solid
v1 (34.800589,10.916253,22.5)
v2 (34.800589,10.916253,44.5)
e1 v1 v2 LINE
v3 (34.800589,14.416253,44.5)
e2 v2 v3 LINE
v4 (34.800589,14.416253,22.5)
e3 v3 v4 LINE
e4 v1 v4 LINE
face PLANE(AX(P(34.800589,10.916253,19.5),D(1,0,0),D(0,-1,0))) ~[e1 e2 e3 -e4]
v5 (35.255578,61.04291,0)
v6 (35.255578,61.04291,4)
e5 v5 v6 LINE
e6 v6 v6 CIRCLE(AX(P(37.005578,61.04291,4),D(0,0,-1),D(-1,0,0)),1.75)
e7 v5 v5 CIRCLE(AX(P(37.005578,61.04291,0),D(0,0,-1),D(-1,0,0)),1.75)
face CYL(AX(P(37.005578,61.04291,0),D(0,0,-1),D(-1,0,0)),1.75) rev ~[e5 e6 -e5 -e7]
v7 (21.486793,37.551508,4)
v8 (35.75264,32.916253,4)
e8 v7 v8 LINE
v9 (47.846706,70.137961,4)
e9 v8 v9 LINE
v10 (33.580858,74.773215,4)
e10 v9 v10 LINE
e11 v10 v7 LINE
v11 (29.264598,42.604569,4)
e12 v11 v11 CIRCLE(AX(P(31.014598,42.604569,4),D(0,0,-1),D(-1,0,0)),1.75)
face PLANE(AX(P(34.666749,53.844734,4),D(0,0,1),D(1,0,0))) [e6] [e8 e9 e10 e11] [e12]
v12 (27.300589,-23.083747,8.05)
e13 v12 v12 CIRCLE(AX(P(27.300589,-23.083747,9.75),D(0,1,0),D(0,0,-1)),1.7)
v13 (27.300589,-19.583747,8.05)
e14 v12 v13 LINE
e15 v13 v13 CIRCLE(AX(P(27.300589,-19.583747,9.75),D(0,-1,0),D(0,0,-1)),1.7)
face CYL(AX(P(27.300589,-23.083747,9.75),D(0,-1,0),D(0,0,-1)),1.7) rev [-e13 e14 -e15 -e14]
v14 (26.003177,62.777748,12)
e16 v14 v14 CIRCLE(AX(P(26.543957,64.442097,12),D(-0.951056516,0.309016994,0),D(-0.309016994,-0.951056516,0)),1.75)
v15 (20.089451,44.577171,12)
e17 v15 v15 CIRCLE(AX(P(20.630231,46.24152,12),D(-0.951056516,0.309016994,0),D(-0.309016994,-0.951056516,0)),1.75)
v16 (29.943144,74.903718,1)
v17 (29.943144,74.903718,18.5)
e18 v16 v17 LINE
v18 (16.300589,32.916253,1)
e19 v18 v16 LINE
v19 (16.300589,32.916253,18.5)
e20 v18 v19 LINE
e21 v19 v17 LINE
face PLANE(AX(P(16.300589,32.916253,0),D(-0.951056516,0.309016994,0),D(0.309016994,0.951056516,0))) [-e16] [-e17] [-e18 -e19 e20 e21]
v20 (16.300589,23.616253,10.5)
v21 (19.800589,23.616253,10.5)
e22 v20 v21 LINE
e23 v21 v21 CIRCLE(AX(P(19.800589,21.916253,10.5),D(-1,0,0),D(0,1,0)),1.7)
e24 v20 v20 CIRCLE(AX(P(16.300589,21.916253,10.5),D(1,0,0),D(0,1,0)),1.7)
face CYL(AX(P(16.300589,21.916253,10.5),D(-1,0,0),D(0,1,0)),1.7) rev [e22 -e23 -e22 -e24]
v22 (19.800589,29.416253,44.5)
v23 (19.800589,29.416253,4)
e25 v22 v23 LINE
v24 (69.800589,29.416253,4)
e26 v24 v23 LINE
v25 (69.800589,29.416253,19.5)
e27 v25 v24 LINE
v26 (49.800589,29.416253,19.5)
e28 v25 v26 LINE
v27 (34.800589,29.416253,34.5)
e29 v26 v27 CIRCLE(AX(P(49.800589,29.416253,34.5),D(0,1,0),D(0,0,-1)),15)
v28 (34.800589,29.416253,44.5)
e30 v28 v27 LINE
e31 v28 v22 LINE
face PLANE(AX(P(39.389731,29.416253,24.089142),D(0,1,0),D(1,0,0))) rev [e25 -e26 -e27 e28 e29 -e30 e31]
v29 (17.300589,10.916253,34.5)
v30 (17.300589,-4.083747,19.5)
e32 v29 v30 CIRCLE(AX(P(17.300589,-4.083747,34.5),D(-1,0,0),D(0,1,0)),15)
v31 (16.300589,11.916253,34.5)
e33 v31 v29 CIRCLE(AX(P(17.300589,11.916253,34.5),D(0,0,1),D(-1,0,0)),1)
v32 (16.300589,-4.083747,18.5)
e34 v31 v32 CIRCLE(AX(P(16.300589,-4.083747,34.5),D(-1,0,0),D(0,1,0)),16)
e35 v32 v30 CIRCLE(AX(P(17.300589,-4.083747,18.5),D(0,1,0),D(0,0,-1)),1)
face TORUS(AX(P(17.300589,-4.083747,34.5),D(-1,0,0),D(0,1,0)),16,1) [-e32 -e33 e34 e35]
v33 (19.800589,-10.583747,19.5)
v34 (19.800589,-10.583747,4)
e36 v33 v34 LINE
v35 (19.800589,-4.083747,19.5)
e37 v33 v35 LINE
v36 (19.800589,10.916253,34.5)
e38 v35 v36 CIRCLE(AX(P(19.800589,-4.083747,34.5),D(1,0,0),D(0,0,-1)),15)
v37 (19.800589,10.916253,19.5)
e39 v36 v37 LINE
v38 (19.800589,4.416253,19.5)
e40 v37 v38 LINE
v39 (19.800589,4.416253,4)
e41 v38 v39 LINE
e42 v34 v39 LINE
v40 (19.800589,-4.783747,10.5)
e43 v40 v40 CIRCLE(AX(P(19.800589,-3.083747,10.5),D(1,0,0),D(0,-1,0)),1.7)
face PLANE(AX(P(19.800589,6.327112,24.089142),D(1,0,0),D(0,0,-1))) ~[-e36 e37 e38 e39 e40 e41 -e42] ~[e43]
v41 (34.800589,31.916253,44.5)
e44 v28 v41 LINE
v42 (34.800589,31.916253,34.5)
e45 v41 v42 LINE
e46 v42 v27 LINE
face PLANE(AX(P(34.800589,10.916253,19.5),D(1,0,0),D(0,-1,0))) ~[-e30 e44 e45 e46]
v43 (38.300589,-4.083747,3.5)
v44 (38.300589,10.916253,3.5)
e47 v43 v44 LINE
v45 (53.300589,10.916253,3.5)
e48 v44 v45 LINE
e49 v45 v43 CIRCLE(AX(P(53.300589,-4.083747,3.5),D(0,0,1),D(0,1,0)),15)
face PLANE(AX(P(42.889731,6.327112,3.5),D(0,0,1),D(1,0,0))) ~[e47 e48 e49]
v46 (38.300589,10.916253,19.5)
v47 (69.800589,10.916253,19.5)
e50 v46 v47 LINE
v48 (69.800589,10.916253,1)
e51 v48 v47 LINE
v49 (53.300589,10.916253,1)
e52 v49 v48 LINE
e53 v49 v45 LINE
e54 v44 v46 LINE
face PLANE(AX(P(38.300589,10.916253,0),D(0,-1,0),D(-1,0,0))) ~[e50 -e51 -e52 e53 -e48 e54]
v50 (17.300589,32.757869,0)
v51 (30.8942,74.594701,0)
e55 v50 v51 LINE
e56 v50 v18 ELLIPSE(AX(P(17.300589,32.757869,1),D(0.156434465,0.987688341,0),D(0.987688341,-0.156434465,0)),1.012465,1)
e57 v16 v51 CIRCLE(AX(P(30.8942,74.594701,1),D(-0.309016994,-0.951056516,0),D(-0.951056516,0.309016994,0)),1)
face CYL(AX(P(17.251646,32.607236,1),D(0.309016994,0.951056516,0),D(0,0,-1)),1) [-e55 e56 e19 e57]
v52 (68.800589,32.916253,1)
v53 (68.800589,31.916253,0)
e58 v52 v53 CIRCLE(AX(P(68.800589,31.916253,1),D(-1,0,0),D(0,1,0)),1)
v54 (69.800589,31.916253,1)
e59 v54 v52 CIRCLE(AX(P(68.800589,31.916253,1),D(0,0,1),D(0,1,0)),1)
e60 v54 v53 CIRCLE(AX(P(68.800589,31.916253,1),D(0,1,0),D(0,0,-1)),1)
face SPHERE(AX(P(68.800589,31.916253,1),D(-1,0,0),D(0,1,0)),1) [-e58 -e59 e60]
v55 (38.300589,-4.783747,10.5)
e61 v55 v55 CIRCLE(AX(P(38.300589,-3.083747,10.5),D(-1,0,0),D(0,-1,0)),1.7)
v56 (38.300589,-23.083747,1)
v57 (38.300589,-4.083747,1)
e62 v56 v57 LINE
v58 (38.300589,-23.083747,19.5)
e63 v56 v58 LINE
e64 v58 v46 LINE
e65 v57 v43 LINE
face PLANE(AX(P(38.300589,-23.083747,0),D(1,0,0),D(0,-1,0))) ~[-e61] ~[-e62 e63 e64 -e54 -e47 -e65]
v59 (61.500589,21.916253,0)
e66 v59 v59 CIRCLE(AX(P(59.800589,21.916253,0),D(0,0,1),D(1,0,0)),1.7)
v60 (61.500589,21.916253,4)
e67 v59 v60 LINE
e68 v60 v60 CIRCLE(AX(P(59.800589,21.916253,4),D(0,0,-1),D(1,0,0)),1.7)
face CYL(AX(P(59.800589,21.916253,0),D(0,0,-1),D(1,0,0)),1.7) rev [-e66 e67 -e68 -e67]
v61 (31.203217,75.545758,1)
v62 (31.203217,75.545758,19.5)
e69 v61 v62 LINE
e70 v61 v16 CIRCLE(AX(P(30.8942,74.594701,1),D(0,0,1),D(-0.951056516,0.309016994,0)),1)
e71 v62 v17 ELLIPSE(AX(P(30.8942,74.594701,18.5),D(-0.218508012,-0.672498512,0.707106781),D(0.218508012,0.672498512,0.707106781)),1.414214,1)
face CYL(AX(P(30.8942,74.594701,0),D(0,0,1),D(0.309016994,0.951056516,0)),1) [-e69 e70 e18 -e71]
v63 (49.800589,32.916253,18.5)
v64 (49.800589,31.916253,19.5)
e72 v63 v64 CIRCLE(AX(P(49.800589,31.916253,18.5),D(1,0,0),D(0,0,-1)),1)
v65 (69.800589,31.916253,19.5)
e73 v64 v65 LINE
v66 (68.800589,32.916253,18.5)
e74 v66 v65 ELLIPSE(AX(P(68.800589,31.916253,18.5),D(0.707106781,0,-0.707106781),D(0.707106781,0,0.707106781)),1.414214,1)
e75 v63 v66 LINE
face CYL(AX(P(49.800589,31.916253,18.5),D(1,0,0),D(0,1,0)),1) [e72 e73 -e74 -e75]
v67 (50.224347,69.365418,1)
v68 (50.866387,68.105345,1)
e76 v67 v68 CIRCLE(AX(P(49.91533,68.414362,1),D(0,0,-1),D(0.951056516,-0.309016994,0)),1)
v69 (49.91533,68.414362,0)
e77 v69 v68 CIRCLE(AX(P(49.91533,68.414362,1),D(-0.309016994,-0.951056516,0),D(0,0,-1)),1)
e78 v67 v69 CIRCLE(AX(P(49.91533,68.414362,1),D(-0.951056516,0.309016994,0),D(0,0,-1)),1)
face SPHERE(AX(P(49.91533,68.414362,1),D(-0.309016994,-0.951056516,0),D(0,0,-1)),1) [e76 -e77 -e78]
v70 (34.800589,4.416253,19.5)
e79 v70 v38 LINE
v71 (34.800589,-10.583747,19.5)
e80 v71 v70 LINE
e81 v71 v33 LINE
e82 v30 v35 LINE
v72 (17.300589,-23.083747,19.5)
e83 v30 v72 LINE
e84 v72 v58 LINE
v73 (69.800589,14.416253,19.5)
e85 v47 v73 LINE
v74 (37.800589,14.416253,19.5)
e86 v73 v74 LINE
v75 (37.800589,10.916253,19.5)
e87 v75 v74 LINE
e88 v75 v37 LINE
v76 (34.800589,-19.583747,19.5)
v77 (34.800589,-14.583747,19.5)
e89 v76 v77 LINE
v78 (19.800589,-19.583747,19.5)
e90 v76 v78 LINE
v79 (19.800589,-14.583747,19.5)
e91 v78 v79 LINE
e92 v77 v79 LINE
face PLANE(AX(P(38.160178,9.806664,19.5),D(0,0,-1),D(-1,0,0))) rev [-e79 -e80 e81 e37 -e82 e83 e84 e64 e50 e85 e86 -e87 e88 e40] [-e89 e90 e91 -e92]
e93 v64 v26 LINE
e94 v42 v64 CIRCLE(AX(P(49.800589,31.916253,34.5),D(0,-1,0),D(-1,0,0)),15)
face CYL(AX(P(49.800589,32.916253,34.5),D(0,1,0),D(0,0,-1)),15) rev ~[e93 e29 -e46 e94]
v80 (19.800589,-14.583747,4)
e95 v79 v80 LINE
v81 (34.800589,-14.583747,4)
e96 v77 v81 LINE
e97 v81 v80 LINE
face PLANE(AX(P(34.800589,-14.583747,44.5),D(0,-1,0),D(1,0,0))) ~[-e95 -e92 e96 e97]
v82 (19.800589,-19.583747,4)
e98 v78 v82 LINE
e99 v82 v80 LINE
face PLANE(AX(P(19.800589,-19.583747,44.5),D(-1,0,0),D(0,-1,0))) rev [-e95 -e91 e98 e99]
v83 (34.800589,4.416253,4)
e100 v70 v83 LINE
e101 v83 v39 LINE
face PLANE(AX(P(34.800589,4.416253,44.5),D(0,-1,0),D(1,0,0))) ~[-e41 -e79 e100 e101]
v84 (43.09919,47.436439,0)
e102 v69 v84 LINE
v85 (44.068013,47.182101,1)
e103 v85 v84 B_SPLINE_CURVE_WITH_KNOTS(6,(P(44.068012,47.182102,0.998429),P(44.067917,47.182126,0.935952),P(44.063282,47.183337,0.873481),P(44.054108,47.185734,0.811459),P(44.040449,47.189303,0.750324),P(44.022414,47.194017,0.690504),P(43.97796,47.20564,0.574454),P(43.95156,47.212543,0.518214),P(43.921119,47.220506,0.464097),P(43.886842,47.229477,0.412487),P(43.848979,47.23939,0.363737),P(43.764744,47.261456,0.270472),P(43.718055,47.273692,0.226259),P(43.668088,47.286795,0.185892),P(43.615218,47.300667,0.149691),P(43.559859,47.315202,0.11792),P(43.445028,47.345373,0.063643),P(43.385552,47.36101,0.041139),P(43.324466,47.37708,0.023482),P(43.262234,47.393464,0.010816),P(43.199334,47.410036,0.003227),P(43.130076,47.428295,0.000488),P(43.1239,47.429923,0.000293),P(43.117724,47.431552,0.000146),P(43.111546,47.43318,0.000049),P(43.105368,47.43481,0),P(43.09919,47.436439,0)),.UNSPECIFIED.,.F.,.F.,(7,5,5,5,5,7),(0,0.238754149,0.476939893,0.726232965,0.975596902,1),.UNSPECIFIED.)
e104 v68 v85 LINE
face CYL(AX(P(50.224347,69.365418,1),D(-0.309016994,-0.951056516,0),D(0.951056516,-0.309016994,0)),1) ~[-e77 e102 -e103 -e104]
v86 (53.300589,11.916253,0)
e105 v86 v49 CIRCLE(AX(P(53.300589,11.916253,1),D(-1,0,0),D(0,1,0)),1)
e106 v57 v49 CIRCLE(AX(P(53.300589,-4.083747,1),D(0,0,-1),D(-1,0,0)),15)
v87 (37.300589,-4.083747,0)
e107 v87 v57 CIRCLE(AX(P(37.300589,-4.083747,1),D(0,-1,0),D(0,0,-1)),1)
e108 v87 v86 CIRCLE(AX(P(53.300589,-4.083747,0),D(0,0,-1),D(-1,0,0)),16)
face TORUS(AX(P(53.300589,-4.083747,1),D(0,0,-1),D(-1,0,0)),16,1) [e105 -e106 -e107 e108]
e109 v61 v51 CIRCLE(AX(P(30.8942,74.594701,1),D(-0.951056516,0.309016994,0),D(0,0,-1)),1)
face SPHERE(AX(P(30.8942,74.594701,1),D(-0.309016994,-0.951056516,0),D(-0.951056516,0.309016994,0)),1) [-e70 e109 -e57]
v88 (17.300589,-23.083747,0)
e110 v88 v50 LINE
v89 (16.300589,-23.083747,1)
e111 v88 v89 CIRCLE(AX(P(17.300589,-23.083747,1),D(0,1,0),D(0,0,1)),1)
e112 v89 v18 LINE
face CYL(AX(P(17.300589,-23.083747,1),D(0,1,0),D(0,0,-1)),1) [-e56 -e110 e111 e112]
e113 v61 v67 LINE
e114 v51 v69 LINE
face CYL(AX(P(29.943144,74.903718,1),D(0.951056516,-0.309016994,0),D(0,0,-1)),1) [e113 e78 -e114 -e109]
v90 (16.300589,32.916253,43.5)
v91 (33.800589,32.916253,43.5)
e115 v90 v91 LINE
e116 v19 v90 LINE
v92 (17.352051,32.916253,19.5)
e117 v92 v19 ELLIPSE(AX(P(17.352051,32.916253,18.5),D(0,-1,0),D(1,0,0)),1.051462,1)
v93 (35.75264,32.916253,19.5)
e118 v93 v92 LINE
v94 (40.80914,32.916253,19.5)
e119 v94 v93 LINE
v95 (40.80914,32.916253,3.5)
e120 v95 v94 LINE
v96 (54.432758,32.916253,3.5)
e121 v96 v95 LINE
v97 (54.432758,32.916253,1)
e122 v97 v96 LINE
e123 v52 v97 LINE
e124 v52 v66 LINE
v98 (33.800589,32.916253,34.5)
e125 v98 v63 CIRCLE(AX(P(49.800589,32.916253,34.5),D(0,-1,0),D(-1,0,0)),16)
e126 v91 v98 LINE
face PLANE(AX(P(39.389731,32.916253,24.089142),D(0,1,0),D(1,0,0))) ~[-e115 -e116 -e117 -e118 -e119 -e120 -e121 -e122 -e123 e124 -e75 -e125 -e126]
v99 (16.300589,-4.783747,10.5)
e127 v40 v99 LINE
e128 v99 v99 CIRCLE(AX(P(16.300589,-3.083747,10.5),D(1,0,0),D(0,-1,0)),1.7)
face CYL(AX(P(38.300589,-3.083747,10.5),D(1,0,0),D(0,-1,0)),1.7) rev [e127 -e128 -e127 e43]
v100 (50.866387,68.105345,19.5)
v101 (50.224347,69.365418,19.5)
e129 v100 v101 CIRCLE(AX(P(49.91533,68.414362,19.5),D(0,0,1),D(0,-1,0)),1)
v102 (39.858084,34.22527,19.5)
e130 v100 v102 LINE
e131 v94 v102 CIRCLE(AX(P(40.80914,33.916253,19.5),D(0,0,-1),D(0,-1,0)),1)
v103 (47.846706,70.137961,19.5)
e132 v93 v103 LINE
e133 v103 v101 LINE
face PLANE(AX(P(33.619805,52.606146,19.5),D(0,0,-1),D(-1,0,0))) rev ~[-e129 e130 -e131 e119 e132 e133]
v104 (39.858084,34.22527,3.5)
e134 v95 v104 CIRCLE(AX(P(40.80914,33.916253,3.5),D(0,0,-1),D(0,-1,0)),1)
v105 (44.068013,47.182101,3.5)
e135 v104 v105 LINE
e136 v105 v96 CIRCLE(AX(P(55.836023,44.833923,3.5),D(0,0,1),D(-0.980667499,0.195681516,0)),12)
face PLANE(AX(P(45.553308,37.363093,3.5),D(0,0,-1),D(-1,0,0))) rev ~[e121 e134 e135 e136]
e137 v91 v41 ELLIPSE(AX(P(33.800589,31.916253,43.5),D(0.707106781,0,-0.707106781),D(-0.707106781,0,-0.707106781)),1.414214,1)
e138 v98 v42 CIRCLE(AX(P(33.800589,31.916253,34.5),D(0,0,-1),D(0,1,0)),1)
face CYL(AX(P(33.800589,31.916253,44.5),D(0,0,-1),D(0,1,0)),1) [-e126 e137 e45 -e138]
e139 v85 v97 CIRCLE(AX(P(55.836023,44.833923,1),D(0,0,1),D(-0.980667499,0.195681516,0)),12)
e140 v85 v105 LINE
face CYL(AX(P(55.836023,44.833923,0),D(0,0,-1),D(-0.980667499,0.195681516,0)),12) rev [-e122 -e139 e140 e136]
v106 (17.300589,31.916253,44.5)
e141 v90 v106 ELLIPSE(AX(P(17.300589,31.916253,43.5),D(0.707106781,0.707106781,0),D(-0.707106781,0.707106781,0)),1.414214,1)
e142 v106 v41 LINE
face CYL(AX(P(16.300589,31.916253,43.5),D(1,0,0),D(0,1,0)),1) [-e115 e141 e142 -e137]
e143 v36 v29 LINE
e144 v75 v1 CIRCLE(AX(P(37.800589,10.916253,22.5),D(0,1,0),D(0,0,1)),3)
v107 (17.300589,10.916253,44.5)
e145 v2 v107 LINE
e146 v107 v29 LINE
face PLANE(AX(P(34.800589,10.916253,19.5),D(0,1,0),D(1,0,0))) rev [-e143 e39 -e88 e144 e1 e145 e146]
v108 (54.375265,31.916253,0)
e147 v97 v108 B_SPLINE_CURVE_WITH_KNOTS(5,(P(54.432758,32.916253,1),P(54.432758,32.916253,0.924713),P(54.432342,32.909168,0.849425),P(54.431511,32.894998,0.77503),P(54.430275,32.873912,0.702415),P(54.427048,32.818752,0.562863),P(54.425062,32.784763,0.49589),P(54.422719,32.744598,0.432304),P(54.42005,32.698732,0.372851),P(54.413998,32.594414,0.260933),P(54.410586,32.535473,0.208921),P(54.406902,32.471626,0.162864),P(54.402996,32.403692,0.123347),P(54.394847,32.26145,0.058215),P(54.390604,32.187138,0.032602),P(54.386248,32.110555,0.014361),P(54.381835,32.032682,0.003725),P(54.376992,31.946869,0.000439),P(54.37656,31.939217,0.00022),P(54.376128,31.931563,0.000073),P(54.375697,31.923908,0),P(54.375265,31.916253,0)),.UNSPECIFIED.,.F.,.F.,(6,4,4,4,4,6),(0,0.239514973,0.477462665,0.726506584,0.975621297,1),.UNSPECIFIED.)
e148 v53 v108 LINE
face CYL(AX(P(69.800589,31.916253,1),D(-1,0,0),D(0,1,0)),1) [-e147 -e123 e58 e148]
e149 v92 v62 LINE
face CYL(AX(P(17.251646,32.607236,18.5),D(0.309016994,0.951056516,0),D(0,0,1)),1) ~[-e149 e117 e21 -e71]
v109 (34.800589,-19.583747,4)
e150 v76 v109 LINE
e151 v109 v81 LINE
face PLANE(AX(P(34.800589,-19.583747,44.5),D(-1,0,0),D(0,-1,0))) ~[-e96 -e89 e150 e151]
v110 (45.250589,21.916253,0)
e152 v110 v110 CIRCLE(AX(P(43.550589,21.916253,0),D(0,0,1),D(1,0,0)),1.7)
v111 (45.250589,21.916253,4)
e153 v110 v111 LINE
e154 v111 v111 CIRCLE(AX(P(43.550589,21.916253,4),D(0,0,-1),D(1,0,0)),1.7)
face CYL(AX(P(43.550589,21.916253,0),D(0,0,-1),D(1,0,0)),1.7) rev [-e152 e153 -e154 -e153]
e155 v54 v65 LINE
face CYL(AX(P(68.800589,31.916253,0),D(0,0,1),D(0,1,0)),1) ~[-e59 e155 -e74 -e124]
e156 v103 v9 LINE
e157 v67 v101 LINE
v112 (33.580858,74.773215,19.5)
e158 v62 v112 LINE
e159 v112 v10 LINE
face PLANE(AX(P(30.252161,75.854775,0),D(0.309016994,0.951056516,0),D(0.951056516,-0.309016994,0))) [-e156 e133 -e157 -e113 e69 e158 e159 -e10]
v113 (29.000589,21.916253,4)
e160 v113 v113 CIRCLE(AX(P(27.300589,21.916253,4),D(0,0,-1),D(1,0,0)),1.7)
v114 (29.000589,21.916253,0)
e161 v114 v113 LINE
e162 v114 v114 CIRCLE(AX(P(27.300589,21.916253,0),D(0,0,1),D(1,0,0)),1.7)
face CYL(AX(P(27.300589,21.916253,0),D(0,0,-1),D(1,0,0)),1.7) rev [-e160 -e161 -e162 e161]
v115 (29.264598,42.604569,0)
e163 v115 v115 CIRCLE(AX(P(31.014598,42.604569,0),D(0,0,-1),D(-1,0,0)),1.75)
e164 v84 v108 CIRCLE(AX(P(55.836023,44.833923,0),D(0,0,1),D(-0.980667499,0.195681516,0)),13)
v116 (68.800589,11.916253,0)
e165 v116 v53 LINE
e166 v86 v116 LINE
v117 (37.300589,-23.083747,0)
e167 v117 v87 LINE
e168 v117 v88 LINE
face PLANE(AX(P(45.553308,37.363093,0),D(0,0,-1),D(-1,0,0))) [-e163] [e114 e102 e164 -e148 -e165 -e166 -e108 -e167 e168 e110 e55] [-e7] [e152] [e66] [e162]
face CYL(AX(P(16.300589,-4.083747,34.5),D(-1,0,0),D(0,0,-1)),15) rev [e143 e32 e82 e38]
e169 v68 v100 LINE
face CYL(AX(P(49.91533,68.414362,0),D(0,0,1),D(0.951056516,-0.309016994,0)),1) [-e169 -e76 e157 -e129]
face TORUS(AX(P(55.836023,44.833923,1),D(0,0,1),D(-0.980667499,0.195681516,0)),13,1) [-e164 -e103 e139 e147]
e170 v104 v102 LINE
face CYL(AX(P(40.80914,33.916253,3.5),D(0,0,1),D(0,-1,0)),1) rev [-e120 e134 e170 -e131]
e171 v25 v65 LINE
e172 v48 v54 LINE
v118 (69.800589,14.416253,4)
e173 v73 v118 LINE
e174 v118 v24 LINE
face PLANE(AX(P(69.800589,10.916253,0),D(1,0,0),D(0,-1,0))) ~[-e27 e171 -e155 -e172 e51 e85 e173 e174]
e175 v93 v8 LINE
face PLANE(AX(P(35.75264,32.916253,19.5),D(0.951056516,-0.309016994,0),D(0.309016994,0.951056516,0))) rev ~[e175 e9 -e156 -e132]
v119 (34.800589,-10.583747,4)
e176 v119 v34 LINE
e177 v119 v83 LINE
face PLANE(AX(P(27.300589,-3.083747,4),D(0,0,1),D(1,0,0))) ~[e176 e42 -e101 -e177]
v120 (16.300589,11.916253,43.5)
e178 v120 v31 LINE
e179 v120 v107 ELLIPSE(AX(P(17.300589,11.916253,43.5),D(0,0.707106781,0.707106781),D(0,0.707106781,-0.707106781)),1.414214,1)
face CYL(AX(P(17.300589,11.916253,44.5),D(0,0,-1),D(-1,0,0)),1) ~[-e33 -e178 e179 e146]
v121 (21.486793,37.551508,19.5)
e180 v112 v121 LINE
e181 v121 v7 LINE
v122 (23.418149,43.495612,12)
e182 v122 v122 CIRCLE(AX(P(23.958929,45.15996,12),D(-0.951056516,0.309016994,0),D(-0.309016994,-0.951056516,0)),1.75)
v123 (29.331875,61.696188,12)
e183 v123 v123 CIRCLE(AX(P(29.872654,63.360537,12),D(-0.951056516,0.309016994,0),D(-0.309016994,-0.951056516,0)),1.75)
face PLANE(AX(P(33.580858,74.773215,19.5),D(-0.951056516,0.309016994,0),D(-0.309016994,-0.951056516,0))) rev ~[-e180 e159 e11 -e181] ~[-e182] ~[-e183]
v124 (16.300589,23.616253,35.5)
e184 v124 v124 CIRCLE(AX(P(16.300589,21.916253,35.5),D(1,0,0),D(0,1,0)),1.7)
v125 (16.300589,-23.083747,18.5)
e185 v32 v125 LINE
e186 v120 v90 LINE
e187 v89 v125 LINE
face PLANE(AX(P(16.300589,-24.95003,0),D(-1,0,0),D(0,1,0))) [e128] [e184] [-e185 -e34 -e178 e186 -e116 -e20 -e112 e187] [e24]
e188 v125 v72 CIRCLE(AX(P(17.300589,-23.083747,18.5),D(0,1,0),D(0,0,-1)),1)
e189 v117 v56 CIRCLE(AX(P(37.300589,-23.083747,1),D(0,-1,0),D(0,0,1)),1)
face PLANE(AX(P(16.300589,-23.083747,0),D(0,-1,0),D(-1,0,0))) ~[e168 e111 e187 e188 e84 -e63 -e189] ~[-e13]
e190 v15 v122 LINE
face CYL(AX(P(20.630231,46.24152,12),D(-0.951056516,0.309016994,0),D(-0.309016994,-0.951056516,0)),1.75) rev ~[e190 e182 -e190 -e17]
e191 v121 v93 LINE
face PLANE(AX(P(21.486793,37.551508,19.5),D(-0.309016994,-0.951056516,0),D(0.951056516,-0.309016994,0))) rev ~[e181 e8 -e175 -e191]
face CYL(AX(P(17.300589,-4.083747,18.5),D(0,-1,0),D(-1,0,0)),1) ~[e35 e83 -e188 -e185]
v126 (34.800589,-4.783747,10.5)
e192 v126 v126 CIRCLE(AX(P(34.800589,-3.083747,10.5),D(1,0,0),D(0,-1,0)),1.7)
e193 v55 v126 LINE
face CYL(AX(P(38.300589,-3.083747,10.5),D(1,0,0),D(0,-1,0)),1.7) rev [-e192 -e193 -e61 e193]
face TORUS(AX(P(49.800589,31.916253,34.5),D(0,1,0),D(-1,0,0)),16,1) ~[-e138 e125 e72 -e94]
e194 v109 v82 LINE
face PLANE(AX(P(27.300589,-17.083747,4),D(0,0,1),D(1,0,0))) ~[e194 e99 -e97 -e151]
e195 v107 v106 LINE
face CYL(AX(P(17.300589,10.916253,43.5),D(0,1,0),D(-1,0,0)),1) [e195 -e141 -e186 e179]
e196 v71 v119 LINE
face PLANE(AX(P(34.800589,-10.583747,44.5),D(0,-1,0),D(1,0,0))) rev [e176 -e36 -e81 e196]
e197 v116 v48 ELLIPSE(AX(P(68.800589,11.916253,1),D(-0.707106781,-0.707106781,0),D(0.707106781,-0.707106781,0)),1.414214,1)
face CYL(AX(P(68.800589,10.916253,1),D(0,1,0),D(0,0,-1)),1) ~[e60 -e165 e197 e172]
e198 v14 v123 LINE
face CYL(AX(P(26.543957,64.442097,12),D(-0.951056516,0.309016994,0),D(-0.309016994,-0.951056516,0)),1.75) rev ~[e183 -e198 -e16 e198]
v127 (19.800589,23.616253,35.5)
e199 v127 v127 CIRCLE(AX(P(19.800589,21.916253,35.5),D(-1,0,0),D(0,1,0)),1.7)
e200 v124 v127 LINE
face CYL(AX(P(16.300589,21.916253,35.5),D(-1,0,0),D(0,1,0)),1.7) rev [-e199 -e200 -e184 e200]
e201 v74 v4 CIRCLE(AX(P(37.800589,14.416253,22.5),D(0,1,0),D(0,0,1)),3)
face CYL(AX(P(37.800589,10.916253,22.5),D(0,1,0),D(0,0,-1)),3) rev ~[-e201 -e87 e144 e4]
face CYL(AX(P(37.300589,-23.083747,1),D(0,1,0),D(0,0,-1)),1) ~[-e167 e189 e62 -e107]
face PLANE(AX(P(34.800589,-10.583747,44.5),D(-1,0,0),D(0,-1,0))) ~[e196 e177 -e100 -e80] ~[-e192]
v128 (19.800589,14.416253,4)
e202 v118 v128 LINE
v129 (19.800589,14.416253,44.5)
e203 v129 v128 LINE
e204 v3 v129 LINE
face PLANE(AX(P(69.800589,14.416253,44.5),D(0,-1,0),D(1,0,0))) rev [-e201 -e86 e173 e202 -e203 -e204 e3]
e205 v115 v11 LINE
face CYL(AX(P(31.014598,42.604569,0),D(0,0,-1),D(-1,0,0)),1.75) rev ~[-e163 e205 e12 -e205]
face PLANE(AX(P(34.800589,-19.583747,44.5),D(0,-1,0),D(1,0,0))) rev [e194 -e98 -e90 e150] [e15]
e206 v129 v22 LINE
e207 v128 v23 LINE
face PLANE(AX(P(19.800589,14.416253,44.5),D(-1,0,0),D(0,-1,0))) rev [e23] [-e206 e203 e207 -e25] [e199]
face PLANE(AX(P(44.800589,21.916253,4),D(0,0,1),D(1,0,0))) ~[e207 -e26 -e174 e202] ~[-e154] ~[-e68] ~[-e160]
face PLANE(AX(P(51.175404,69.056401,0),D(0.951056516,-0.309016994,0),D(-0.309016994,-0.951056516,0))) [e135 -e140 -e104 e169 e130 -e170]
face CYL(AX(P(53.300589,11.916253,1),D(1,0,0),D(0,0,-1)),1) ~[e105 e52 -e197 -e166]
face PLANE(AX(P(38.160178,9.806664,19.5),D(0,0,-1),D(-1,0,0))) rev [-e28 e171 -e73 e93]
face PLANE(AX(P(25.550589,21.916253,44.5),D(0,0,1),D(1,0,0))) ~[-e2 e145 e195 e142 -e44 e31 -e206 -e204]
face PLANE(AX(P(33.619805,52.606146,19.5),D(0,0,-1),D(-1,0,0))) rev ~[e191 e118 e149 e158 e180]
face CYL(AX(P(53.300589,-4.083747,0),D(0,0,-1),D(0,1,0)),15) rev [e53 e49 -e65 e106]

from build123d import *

# Parameters (mm, degrees)
BOSS_EXTRUDE1_DEPTH  = 19.5
SKETCH3_W            = 18.5
SKETCH3_H            = 22
BOSS_EXTRUDE2_DEPTH  = 25
SKETCH5_W            = 50
SKETCH5_H            = 15
SKETCH5_W_2          = 15
SKETCH5_H_2          = 5
CUT_EXTRUDE1_DEPTH   = 40.5
BOSS_EXTRUDE4_DEPTH  = 3.5
BOSS_EXTRUDE5_DEPTH  = 3.5
BOSS_EXTRUDE6_DEPTH  = 3.5
FILLET3_R            = 3
CUT_EXTRUDE3_DEPTH   = 1
SKETCH12_R           = 1.7
CUT_EXTRUDE4_DEPTH   = 5
SKETCH13_R           = 1.7
CUT_EXTRUDE5_DEPTH   = 45
SKETCH14_R           = 1.7
CUT_EXTRUDE6_DEPTH   = 45
SKETCH15_R           = 1.7
CUT_EXTRUDE7_DEPTH   = 4
FILLET3_OF_MIRROR2_R = 3
SKETCH16_W           = 70.294928241
SKETCH16_H           = 57.866283398
CUT_EXTRUDE8_DEPTH   = 72
BOSS_EXTRUDE7_DEPTH  = 19.5
CUT_EXTRUDE10_DEPTH  = 15.5
BOSS_EXTRUDE8_DEPTH  = 3.5
FILLET4_R            = 1
FILLET5_R            = 1
SKETCH24_R           = 1.75
CUT_EXTRUDE11_DEPTH  = 10
SKETCH25_R           = 1.75
CUT_EXTRUDE12_DEPTH  = 10


with BuildPart() as part:
    # Sketch1 → Boss-Extrude1 (new body)
    with BuildSketch(Plane.XY):
        Polygon((-5.699410772, 32.916253451), (16.300589228, 32.916253451), (16.300589228, -23.083746549), (-5.699410772, -23.083746549), (-5.699410772, 10.916253451), (-37.199410772, 10.916253451), (-37.199410772, 32.916253451), align=None)
    boss_extrude1 = extrude(amount=BOSS_EXTRUDE1_DEPTH)

    # Sketch3 → Boss-Extrude2 (add)
    with BuildSketch(Plane.XY.offset(19.5)):
        with Locations((7.050589228, 21.916253451)):
            Rectangle(SKETCH3_W, SKETCH3_H)
    boss_extrude2 = extrude(amount=BOSS_EXTRUDE2_DEPTH)

    # Sketch5 → Cut-Extrude1 (cut)
    with BuildSketch(Plane.XY.offset(44.5)):
        with Locations((-12.199410772, 21.916253451)):
            Rectangle(SKETCH5_W, SKETCH5_H)
        with Locations((5.300589228, -3.083746549)):
            Rectangle(SKETCH5_W_2, SKETCH5_H)
        with Locations((5.300589228, -17.083746549)):
            Rectangle(SKETCH5_W_2, SKETCH5_H_2)
    cut_extrude1 = extrude(amount=-CUT_EXTRUDE1_DEPTH, mode=Mode.SUBTRACT)

    # Sketch7 → Boss-Extrude4 (add)
    with BuildSketch(Plane(origin=(16.300589228, 0, 0), x_dir=(0, 0, -1), z_dir=(1, 0, 0))):
        with BuildLine():
            Line((-34.5, 10.916253451), (-19.5, 10.916253451))
            Line((-19.5, 10.916253451), (-19.5, -4.083746549))
            ThreePointArc((-19.5, -4.083746549), (-23.893398282, 6.522855169), (-34.5, 10.916253451))
        make_face()
    boss_extrude4 = extrude(amount=-BOSS_EXTRUDE4_DEPTH)

    # Sketch8 → Boss-Extrude5 (add)
    with BuildSketch(Plane(origin=(0, 0, 0), x_dir=(-1, 0, 0), z_dir=(0, 0, -1))):
        with BuildLine():
            Line((5.699410772, 10.916253451), (20.699410772, 10.916253451))
            ThreePointArc((20.699410772, 10.916253451), (10.092809055, 6.522855169), (5.699410772, -4.083746549))
            Line((5.699410772, -4.083746549), (5.699410772, 10.916253451))
        make_face()
    boss_extrude5 = extrude(amount=-BOSS_EXTRUDE5_DEPTH)

    # Sketch9 → Boss-Extrude6 (add)
    with BuildSketch(Plane(origin=(0, 32.916253451, 0), x_dir=(1, 0, 0), z_dir=(0, 1, 0))):
        with BuildLine():
            Line((-2.199410772, -34.5), (-2.199410772, -19.5))
            Line((-2.199410772, -19.5), (-17.199410772, -19.5))
            ThreePointArc((-17.199410772, -19.5), (-6.592809055, -23.893398282), (-2.199410772, -34.5))
        make_face()
    boss_extrude6 = extrude(amount=-BOSS_EXTRUDE6_DEPTH)

    # Fillet3
    fillet3_edges = [part.edges().sort_by_distance(p)[0] for p in [
        (-2.199410772, 12.666253451, 19.5),
    ]]
    fillet(fillet3_edges, radius=FILLET3_R)

    # Sketch11 → Cut-Extrude3 (cut)
    # profile 1 of 4: a face of its own
    with BuildSketch(Plane(origin=(0, 0, 0), x_dir=(-1, 0, 0), z_dir=(0, 0, -1))):
        Polygon((-10.800589228, -18.789996549), (-10.800589228, -16.838073472), (-2.43039692, -14.652977318), (-10.800589228, -12.463073472), (-10.800589228, -10.515958087), (1.199410772, -8.729900395), (1.199410772, -10.602496549), (-6.379916151, -11.729900395), (1.199410772, -13.715477318), (1.199410772, -15.597688857), (-6.379916151, -17.576054241), (1.199410772, -18.703458087), (1.199410772, -20.576054241), align=None)
    # profile 2 of 4: a face of its own
    with BuildSketch(Plane(origin=(0, 0, 0), x_dir=(-1, 0, 0), z_dir=(0, 0, -1))):
        with BuildLine():
            Line((-10.800589228, -7.991438857), (-10.800589228, -5.952977318))
            add(Edge.make_bspline(
                [(-10.800589228, -5.952977318), (-10.800005012, -5.818337024), (-10.798881276, -5.559357226), (-10.780939362, -5.185841664), (-10.756194453, -4.841644627), (-10.717588986, -4.528141475), (-10.670910939, -4.244422827), (-10.610297955, -3.991812577), (-10.542991354, -3.767135176), (-10.432899575, -3.510089545), (-10.261344606, -3.2204116), (-9.993854575, -2.916502166), (-9.674999978, -2.642644015), (-9.298421338, -2.412342144), (-8.876833149, -2.221736808), (-8.412796045, -2.089022583), (-7.914245505, -2.00467731), (-7.569376461, -1.995936272), (-7.391935381, -1.991438857)],
                knots=[0, 0, 0, 0, 1.067446855, 2.053227611, 2.964447842, 3.802928181, 4.55705831, 5.242813606, 5.861740442, 6.41401137, 7.456762865, 8.515266784, 9.610284097, 10.777391769, 12.003071174, 13.267653188, 14.594160368, 16, 16, 16, 16], degree=3))
            add(Edge.make_bspline(
                [(-7.391935381, -1.991438857), (-7.297355032, -1.992855248), (-7.111944506, -1.99563187), (-6.839545611, -2.016474255), (-6.57922187, -2.056818659), (-6.329385024, -2.104637483), (-6.092864844, -2.173393793), (-5.86736032, -2.254741183), (-5.654862929, -2.353204183), (-5.453365078, -2.465039747), (-5.262464902, -2.588608019), (-5.086843378, -2.732896484), (-4.9205107, -2.888692529), (-4.766123648, -3.059365613), (-4.626046251, -3.246963608), (-4.496602326, -3.448494847), (-4.377999142, -3.665222723), (-4.310704173, -3.817832702), (-4.276550766, -3.895285011)],
                knots=[0, 0, 0, 0, 1.163181294, 2.28024169, 3.356120165, 4.401649984, 5.406013808, 6.381787017, 7.347406326, 8.282525473, 9.21452408, 10.139462981, 11.073595085, 12.01554303, 12.965498088, 13.949545959, 14.959357709, 16, 16, 16, 16], degree=3))
            Line((-4.276550766, -3.895285011), (1.199410772, -1.452977318))
            Line((1.199410772, -1.452977318), (1.199410772, -3.541919626))
            Line((1.199410772, -3.541919626), (-4.031358458, -5.873650395))
            Line((-4.031358458, -5.873650395), (-4.031358458, -6.145285011))
            Line((-4.031358458, -6.145285011), (1.199410772, -6.145285011))
            Line((1.199410772, -6.145285011), (1.199410772, -7.991438857))
            Line((1.199410772, -7.991438857), (-10.800589228, -7.991438857))
        make_face()
        with BuildLine():
            Line((-6.185204612, -6.145285011), (-6.185204612, -5.515477318))
            add(Edge.make_bspline(
                [(-6.185204612, -5.515477318), (-6.186367141, -5.438550003), (-6.188596807, -5.291007573), (-6.198784481, -5.078941418), (-6.223636793, -4.886497292), (-6.255016899, -4.712471663), (-6.291026717, -4.555276318), (-6.342625913, -4.418389599), (-6.399049431, -4.298462814), (-6.489896288, -4.166118437), (-6.633796999, -4.027471922), (-6.856716063, -3.91397639), (-7.124487444, -3.84724369), (-7.317795964, -3.840947182), (-7.420781535, -3.837592703)],
                knots=[0, 0, 0, 0, 1.14443165, 2.194958024, 3.155864406, 4.02787753, 4.825710302, 5.549708663, 6.200008757, 6.791751392, 7.929772656, 9.129352395, 10.470655706, 12, 12, 12, 12], degree=3))
            add(Edge.make_bspline(
                [(-7.420781535, -3.837592703), (-7.484265153, -3.839856392), (-7.607360624, -3.844245712), (-7.785755229, -3.879686188), (-7.952879051, -3.933201989), (-8.103735349, -4.014031264), (-8.239800846, -4.109799367), (-8.356212547, -4.223260262), (-8.450592564, -4.353040951), (-8.531146795, -4.502587927), (-8.586059735, -4.694350085), (-8.620716321, -4.939833657), (-8.644326337, -5.246603017), (-8.645891807, -5.472154526), (-8.646743074, -5.594804241)],
                knots=[0, 0, 0, 0, 0.9241003, 1.791841178, 2.640927318, 3.471185814, 4.274581995, 5.058835706, 5.827024317, 6.605084504, 7.520888769, 8.714677486, 10.213517293, 12, 12, 12, 12], degree=3))
            Line((-8.646743074, -5.594804241), (-8.646743074, -6.145285011))
            Line((-8.646743074, -6.145285011), (-6.185204612, -6.145285011))
        make_face(mode=Mode.SUBTRACT)
    # profile 3 of 4: a face of its own
    with BuildSketch(Plane(origin=(0, 0, 0), x_dir=(-1, 0, 0), z_dir=(0, 0, -1))):
        with BuildLine():
            add(Edge.make_bspline(
                [(-1.262127689, -0.176054241), (-1.257647984, -0.104101941), (-1.248753835, 0.038754448), (-1.172545764, 0.242235867), (-1.05033496, 0.427832621), (-0.88404186, 0.590235666), (-0.687299125, 0.730105266), (-0.462023761, 0.828247267), (-0.217504351, 0.891566147), (-0.046993635, 0.897708021), (0.040756926, 0.900868836)],
                knots=[0, 0, 0, 0, 0.919349048, 1.825304879, 2.744940427, 3.746623331, 4.786044724, 5.819977252, 6.878086821, 8, 8, 8, 8], degree=3))
            add(Edge.make_bspline(
                [(0.040756926, 0.900868836), (0.128481887, 0.897613897), (0.299721778, 0.891260229), (0.545324854, 0.828809783), (0.771582895, 0.729449747), (0.970335119, 0.590396057), (1.138671939, 0.427821465), (1.264004419, 0.242957175), (1.339760461, 0.038678283), (1.348736151, -0.104127453), (1.353256926, -0.176054241)],
                knots=[0, 0, 0, 0, 1.117536417, 2.181440851, 3.211339843, 4.255104211, 5.260135653, 6.181815925, 7.084237479, 8, 8, 8, 8], degree=3))
            add(Edge.make_bspline(
                [(1.353256926, -0.176054241), (1.348770157, -0.248001687), (1.339861983, -0.390848436), (1.263364391, -0.595455675), (1.139460356, -0.781986068), (0.970956709, -0.945114294), (0.77080448, -1.081189928), (0.54542444, -1.181069939), (0.299695058, -1.243328016), (0.128472836, -1.249708594), (0.040756926, -1.252977318)],
                knots=[0, 0, 0, 0, 0.915447906, 1.817559426, 2.747445231, 3.752131388, 4.789763433, 5.819308596, 6.882847519, 8, 8, 8, 8], degree=3))
            add(Edge.make_bspline(
                [(0.040756926, -1.252977318), (-0.046984438, -1.249802679), (-0.217477284, -1.243633944), (-0.462123928, -1.180506316), (-0.686511891, -1.081845741), (-0.884668075, -0.944947749), (-1.051117925, -0.781983335), (-1.171904853, -0.594743665), (-1.248854997, -0.390923093), (-1.257681869, -0.248026694), (-1.262127689, -0.176054241)],
                knots=[0, 0, 0, 0, 1.121525552, 2.179269538, 3.212844836, 4.246063491, 5.247400307, 6.175325774, 7.080968592, 8, 8, 8, 8], degree=3))
        make_face()
    # profile 4 of 4: a face of its own
    with BuildSketch(Plane(origin=(0, 0, 0), x_dir=(-1, 0, 0), z_dir=(0, 0, -1))):
        with BuildLine():
            Line((-7.877512305, 3.639330374), (-7.877512305, 1.793176528))
            add(Edge.make_bspline(
                [(-7.877512305, 1.793176528), (-7.985104597, 1.806156245), (-8.194919789, 1.831467926), (-8.50062502, 1.89307865), (-8.789725475, 1.969009097), (-9.063857289, 2.060670567), (-9.32041803, 2.168002956), (-9.560895844, 2.292709709), (-9.787587098, 2.42930416), (-9.925017131, 2.537709574), (-9.99289692, 2.591253451)],
                knots=[0, 0, 0, 0, 1.13409845, 2.211599726, 3.261451197, 4.261463951, 5.235132031, 6.169264622, 7.095758548, 8, 8, 8, 8], degree=3))
            add(Edge.make_bspline(
                [(-9.99289692, 2.591253451), (-10.082013161, 2.667910273), (-10.256359415, 2.817881026), (-10.483761061, 3.07110519), (-10.676767562, 3.337669411), (-10.835123876, 3.619879277), (-10.958228421, 3.915924445), (-11.044683072, 4.227572925), (-11.099664631, 4.553240287), (-11.10537913, 4.776126179), (-11.108281535, 4.889330374)],
                knots=[0, 0, 0, 0, 1.065406432, 2.084352066, 3.078868942, 4.045367136, 5.013203651, 5.979674514, 6.9738726, 8, 8, 8, 8], degree=3))
            add(Edge.make_bspline(
                [(-11.108281535, 4.889330374), (-11.105554752, 4.990429502), (-11.100204953, 5.188780494), (-11.056686246, 5.480236578), (-10.97985421, 5.757907044), (-10.8818086, 6.026068289), (-10.745230943, 6.277428113), (-10.587175591, 6.520140361), (-10.396186865, 6.748620977), (-10.177194209, 6.959885993), (-9.943110555, 7.156839202), (-9.690759412, 7.324416021), (-9.43059281, 7.47074821), (-9.157422302, 7.588703888), (-8.873189212, 7.680392593), (-8.578388089, 7.744054748), (-8.273858918, 7.787935844), (-8.06677444, 7.791411893), (-7.96164692, 7.793176528)],
                knots=[0, 0, 0, 0, 1.018635126, 1.998506719, 2.96030997, 3.918683232, 4.868719089, 5.836268132, 6.834011598, 7.861887245, 8.899958098, 9.91230014, 10.909978245, 11.904579616, 12.905650751, 13.91466998, 14.941371293, 16, 16, 16, 16], degree=3))
            add(Edge.make_bspline(
                [(-7.96164692, 7.793176528), (-7.831571704, 7.7882504), (-7.575267724, 7.778543815), (-7.199658116, 7.710806724), (-6.842854452, 7.593710225), (-6.50564623, 7.43251906), (-6.191993909, 7.228071619), (-5.907939838, 6.979968911), (-5.654954295, 6.689672154), (-5.517272776, 6.469896674), (-5.447223843, 6.358080374)],
                knots=[0, 0, 0, 0, 1.027701034, 2.025011931, 3.004147813, 3.986880317, 4.970346872, 5.953160964, 6.958619193, 8, 8, 8, 8], degree=3))
            add(Edge.make_bspline(
                [(-5.447223843, 6.358080374), (-5.418934484, 6.430798423), (-5.362819656, 6.575042087), (-5.255412748, 6.779194324), (-5.134751997, 6.973329501), (-4.999067172, 7.154540458), (-4.847347238, 7.322970358), (-4.681616094, 7.478791827), (-4.500395305, 7.624150933), (-4.30375287, 7.755244697), (-4.095176448, 7.873355347), (-3.875726079, 7.97347104), (-3.648685489, 8.060719415), (-3.412791492, 8.133216192), (-3.166864793, 8.188590605), (-2.911254324, 8.225884056), (-2.647259211, 8.251365722), (-2.468118928, 8.253589988), (-2.377512305, 8.254714989)],
                knots=[0, 0, 0, 0, 0.971157749, 1.926390409, 2.867917292, 3.816032967, 4.741824403, 5.6878893, 6.646452846, 7.631864642, 8.628382992, 9.628642509, 10.633224323, 11.656081692, 12.699617594, 13.76949873, 14.871843985, 16, 16, 16, 16], degree=3))
            add(Edge.make_bspline(
                [(-2.377512305, 8.254714989), (-2.244325252, 8.252503818), (-1.981850533, 8.248146212), (-1.597044081, 8.197009582), (-1.226862615, 8.122689872), (-0.874542963, 8.009706698), (-0.536107314, 7.870492658), (-0.212201339, 7.699845341), (0.092892066, 7.493753909), (0.380575775, 7.261849568), (0.643411265, 7.006428676), (0.8765742, 6.732895346), (1.069672671, 6.437585756), (1.23223783, 6.128720843), (1.355158488, 5.799574581), (1.443839147, 5.455657192), (1.498563993, 5.093806224), (1.504216675, 4.847057422), (1.50710308, 4.721061143)],
                knots=[0, 0, 0, 0, 1.08934669, 2.146800001, 3.171892192, 4.175766193, 5.1695646, 6.164076811, 7.166278581, 8.178196077, 9.184573215, 10.16196427, 11.113242845, 12.066531174, 13.012937118, 13.981620827, 14.969363733, 16, 16, 16, 16], degree=3))
            add(Edge.make_bspline(
                [(1.50710308, 4.721061143), (1.504031919, 4.602279119), (1.498005885, 4.36921268), (1.44571629, 4.02762683), (1.362713421, 3.702437153), (1.243881772, 3.394298005), (1.091092441, 3.104692046), (0.906771997, 2.829859086), (0.687442467, 2.57259779), (0.434322499, 2.3350891), (0.15282569, 2.119255522), (-0.153407037, 1.926340908), (-0.483775783, 1.75924538), (-0.840338868, 1.624378739), (-1.217591782, 1.506817115), (-1.621739126, 1.421885121), (-2.049128635, 1.361769677), (-2.342880764, 1.341824077), (-2.49289692, 1.331638066)],
                knots=[0, 0, 0, 0, 0.974003266, 1.911126485, 2.827923683, 3.722775623, 4.613731572, 5.50894563, 6.432318302, 7.38099101, 8.351349308, 9.338047726, 10.346428225, 11.382873954, 12.462111462, 13.585146545, 14.766759469, 16, 16, 16, 16], degree=3))
            Line((-2.49289692, 1.331638066), (-2.49289692, 3.177791913))
            add(Edge.make_bspline(
                [(-2.49289692, 3.177791913), (-2.417425318, 3.188945376), (-2.270574462, 3.210647521), (-2.058705359, 3.256683558), (-1.861732034, 3.311165199), (-1.680044741, 3.376135049), (-1.514279405, 3.45120486), (-1.360798784, 3.532148117), (-1.223710633, 3.625749249), (-1.065384613, 3.762941693), (-0.896220111, 3.953356149), (-0.749458771, 4.217045491), (-0.662515335, 4.51137642), (-0.652102457, 4.7164657), (-0.646743074, 4.822022682)],
                knots=[0, 0, 0, 0, 1.004083628, 1.953722164, 2.852062002, 3.692886634, 4.490800013, 5.245942238, 5.974461452, 6.670088602, 8.000762069, 9.303976857, 10.612389357, 12, 12, 12, 12], degree=3))
            add(Edge.make_bspline(
                [(-0.646743074, 4.822022682), (-0.647864371, 4.878202331), (-0.650053976, 4.987906785), (-0.675076379, 5.149181645), (-0.716357012, 5.302683497), (-0.770574005, 5.45033855), (-0.844338553, 5.58810378), (-0.931901508, 5.719433893), (-1.034609515, 5.844770146), (-1.195110626, 5.995917646), (-1.416786421, 6.163242766), (-1.719322479, 6.30573827), (-2.050588673, 6.3928176), (-2.280814454, 6.403216349), (-2.39914692, 6.408561143)],
                knots=[0, 0, 0, 0, 0.766703657, 1.497175717, 2.221804895, 2.935192376, 3.640052165, 4.350243223, 5.088623085, 5.847082799, 7.357237736, 8.859920549, 10.386048059, 12, 12, 12, 12], degree=3))
            add(Edge.make_bspline(
                [(-2.39914692, 6.408561143), (-2.464945748, 6.406711942), (-2.594787133, 6.403062896), (-2.786195597, 6.374088866), (-2.969648465, 6.322755274), (-3.145763747, 6.253440485), (-3.312932079, 6.163011753), (-3.473227413, 6.054384045), (-3.62413007, 5.923172242), (-3.768170684, 5.775714059), (-3.898710135, 5.608114668), (-4.014720541, 5.423570124), (-4.109640596, 5.219059789), (-4.193220285, 4.999736952), (-4.254214347, 4.760765565), (-4.29872396, 4.505093902), (-4.332010414, 4.232310528), (-4.336655471, 4.044084373), (-4.339050766, 3.947022682)],
                knots=[0, 0, 0, 0, 0.899536996, 1.775063972, 2.638995881, 3.499655969, 4.357521698, 5.232774386, 6.141935922, 7.087285127, 8.047315231, 9.041502366, 10.060909586, 11.125312509, 12.246833879, 13.426779274, 14.673079445, 16, 16, 16, 16], degree=3))
            Line((-4.339050766, 3.947022682), (-6.339050766, 3.947022682))
            add(Edge.make_bspline(
                [(-6.339050766, 3.947022682), (-6.351211097, 4.070597942), (-6.374042407, 4.302613426), (-6.427589871, 4.624478183), (-6.497441604, 4.896812425), (-6.588065699, 5.121571579), (-6.694964612, 5.310796304), (-6.816990742, 5.474794656), (-6.9584857, 5.616776513), (-7.116669669, 5.733391795), (-7.285211073, 5.826558536), (-7.45907096, 5.899690982), (-7.641166228, 5.937102036), (-7.763594277, 5.943722311), (-7.824627689, 5.947022682)],
                knots=[0, 0, 0, 0, 1.613490305, 3.029366345, 4.236845818, 5.259854129, 6.169213254, 7.054399038, 7.908596932, 8.76463379, 9.599115534, 10.407455461, 11.206077139, 12, 12, 12, 12], degree=3))
            add(Edge.make_bspline(
                [(-7.824627689, 5.947022682), (-7.902708499, 5.94339984), (-8.054533682, 5.93635536), (-8.271474473, 5.879601033), (-8.4685132, 5.787571995), (-8.638517306, 5.657006158), (-8.780104567, 5.497937744), (-8.882578523, 5.311699797), (-8.945232074, 5.101614866), (-8.951293618, 4.953882443), (-8.954435381, 4.877311143)],
                knots=[0, 0, 0, 0, 1.073009827, 2.08642706, 3.062829201, 4.046239177, 5.014892964, 5.972187552, 6.948963055, 8, 8, 8, 8], degree=3))
            add(Edge.make_bspline(
                [(-8.954435381, 4.877311143), (-8.95071032, 4.808009077), (-8.94335375, 4.671145417), (-8.884755184, 4.47123759), (-8.789639268, 4.281474968), (-8.656940841, 4.105904867), (-8.497545942, 3.947245812), (-8.310497414, 3.816432348), (-8.104113715, 3.708690565), (-7.953735758, 3.662661532), (-7.877512305, 3.639330374)],
                knots=[0, 0, 0, 0, 0.942455657, 1.861242209, 2.81281304, 3.818879151, 4.845099048, 5.862404497, 6.916497371, 8, 8, 8, 8], degree=3))
        make_face()
    extrude(amount=-CUT_EXTRUDE3_DEPTH, mode=Mode.SUBTRACT)

    # Sketch12 → Cut-Extrude4 (cut)
    with BuildSketch(Plane(origin=(0, 0, 0), x_dir=(-1, 0, 0), z_dir=(0, 0, -1))):
        with Locations((-5.300589228, 21.916253451)):
            Circle(SKETCH12_R)
        with Locations((10.949410772, 21.916253451)):
            Circle(SKETCH12_R)
        with Locations((27.199410772, 21.916253451)):
            Circle(SKETCH12_R)
    cut_extrude4 = extrude(amount=-CUT_EXTRUDE4_DEPTH, mode=Mode.SUBTRACT)

    # Sketch13 → Cut-Extrude5 (cut)
    with BuildSketch(Plane.ZY.offset(5.699410772)):
        with Locations(Location((10.5, -3.083746549, 0), (0, 0, 270))):
            Circle(SKETCH13_R)
    cut_extrude5 = extrude(amount=-CUT_EXTRUDE5_DEPTH, mode=Mode.SUBTRACT)

    # Sketch14 → Cut-Extrude6 (cut)
    with BuildSketch(Plane(origin=(16.300589228, 0, 0), x_dir=(0, 0, -1), z_dir=(1, 0, 0))):
        with Locations(Location((-10.5, 21.916253451, 0), (0, 0, 90))):
            Circle(SKETCH14_R)
        with Locations(Location((-35.5, 21.916253451, 0), (0, 0, 90))):
            Circle(SKETCH14_R)
    cut_extrude6 = extrude(amount=-CUT_EXTRUDE6_DEPTH, mode=Mode.SUBTRACT)

    # Sketch15 → Cut-Extrude7 (cut)
    with BuildSketch(Plane.XZ.offset(23.083746549)):
        with Locations(Location((5.300589228, 9.75, 0), (0, 0, 270))):
            Circle(SKETCH15_R)
    cut_extrude7 = extrude(amount=-CUT_EXTRUDE7_DEPTH, mode=Mode.SUBTRACT)

    # Mirror2: Boss-Extrude1, Boss-Extrude2, Cut-Extrude1, Boss-Extrude4, Boss-Extrude5, Boss-Extrude6, Cut-Extrude4, Cut-Extrude5, Cut-Extrude6, Cut-Extrude7 across plane
    add(boss_extrude1.mirror(Plane(origin=(16.300589228, 32.916253451, 19.5), x_dir=(0, 0, 1), z_dir=(-1, 0, 0))))
    add(boss_extrude2.mirror(Plane(origin=(16.300589228, 32.916253451, 19.5), x_dir=(0, 0, 1), z_dir=(-1, 0, 0))))
    add(cut_extrude1.mirror(Plane(origin=(16.300589228, 32.916253451, 19.5), x_dir=(0, 0, 1), z_dir=(-1, 0, 0))), mode=Mode.SUBTRACT)
    add(boss_extrude4.mirror(Plane(origin=(16.300589228, 32.916253451, 19.5), x_dir=(0, 0, 1), z_dir=(-1, 0, 0))))
    add(boss_extrude5.mirror(Plane(origin=(16.300589228, 32.916253451, 19.5), x_dir=(0, 0, 1), z_dir=(-1, 0, 0))))
    add(boss_extrude6.mirror(Plane(origin=(16.300589228, 32.916253451, 19.5), x_dir=(0, 0, 1), z_dir=(-1, 0, 0))))
    add(cut_extrude4.mirror(Plane(origin=(16.300589228, 32.916253451, 19.5), x_dir=(0, 0, 1), z_dir=(-1, 0, 0))), mode=Mode.SUBTRACT)
    add(cut_extrude5.mirror(Plane(origin=(16.300589228, 32.916253451, 19.5), x_dir=(0, 0, 1), z_dir=(-1, 0, 0))), mode=Mode.SUBTRACT)
    add(cut_extrude6.mirror(Plane(origin=(16.300589228, 32.916253451, 19.5), x_dir=(0, 0, 1), z_dir=(-1, 0, 0))), mode=Mode.SUBTRACT)
    add(cut_extrude7.mirror(Plane(origin=(16.300589228, 32.916253451, 19.5), x_dir=(0, 0, 1), z_dir=(-1, 0, 0))), mode=Mode.SUBTRACT)

    # Fillet3 of Mirror2
    fillet3_of_mirror2_edges = [part.edges().sort_by_distance(p)[0] for p in [
        (34.800589228, 12.666253451, 19.5),
    ]]
    fillet(fillet3_of_mirror2_edges, radius=FILLET3_OF_MIRROR2_R)

    # Sketch16 → Cut-Extrude8 (cut)
    with BuildSketch(Plane(origin=(0, 0, 0), x_dir=(-1, 0, 0), z_dir=(0, 0, -1))):
        with Locations((18.846874893, 3.983111752)):
            Rectangle(SKETCH16_W, SKETCH16_H)
    extrude(amount=-CUT_EXTRUDE8_DEPTH, mode=Mode.SUBTRACT)

    # Sketch21 → Boss-Extrude7 (add)
    with BuildSketch(Plane(origin=(0, 0, 0), x_dir=(-1, 0, 0), z_dir=(0, 0, -1))):
        Polygon((-16.300589228, 32.916253451), (-30.252160589, 75.854774946), (-51.175403947, 69.05640107), (-39.432758161, 32.916253451), align=None)
    extrude(amount=-BOSS_EXTRUDE7_DEPTH)

    # Sketch22 → Cut-Extrude10 (cut)
    with BuildSketch(Plane.XY.offset(19.5)):
        Polygon((33.580858396, 74.773215466), (21.486792632, 37.551508367), (35.752640376, 32.916253451), (47.84670614, 70.137960551), align=None)
    extrude(amount=-CUT_EXTRUDE10_DEPTH, mode=Mode.SUBTRACT)

    # Sketch23 → Boss-Extrude8 (add)
    with BuildSketch(Plane(origin=(0, 0, 0), x_dir=(-1, 0, 0), z_dir=(0, 0, -1))):
        with BuildLine():
            Line((-54.432758161, 32.916253451), (-39.432758161, 32.916253451))
            Line((-39.432758161, 32.916253451), (-44.068013076, 47.182101195))
            ThreePointArc((-44.068013076, 47.182101195), (-46.127819137, 37.780499977), (-54.432758161, 32.916253451))
        make_face()
    extrude(amount=-BOSS_EXTRUDE8_DEPTH)

    # Fillet4
    fillet4_edges = [part.edges().sort_by_distance(p)[0] for p in [
        (16.300589228, 10.916253451, 39.5),
        (16.300589228, 6.522855169, 23.893398282),
        (61.550589228, 10.916253451, 0),
        (42.69398751, 6.522855169, 0),
        (59.800589228, 32.916253451, 19.5),
        (34.800589228, 32.916253451, 39.5),
        (23.276374908, 54.385514199, 19.5),
        (47.621708512, 58.119251133, 0),
        (62.116673694, 32.916253451, 0),
        (46.127819137, 37.780499977, 0),
        (23.276374908, 54.385514199, 0),
        (16.300589228, -13.583746549, 19.5),
        (16.300589228, 4.916253451, 0),
        (38.300589228, -13.583746549, 0),
        (69.800589228, 32.916253451, 9.75),
        (69.800589228, 21.916253451, 0),
        (16.300589228, 21.916253451, 44.5),
        (39.19398751, 32.916253451, 23.893398282),
        (25.550589228, 32.916253451, 44.5),
        (30.252160589, 75.854774946, 9.75),
        (40.713782268, 72.455588008, 0),
        (51.175403947, 69.05640107, 9.75),
    ]]
    fillet(fillet4_edges, radius=FILLET4_R)

    # Fillet5
    fillet5_edges = [part.edges().sort_by_distance(p)[0] for p in [
        (39.432758161, 32.916253451, 11.5),
    ]]
    fillet(fillet5_edges, radius=FILLET5_R)

    # Sketch24 → Cut-Extrude11 (cut)
    with BuildSketch(Plane(origin=(5.070177296, -1.647400467, 0), x_dir=(0, 0, 1), z_dir=(-0.9510565162951522, 0.30901699437495195, 0))):
        with Locations(Location((12, 69.490609743, 0), (0, 0, 270))):
            Circle(SKETCH24_R)
        with Locations(Location((12, 50.353390807, 0), (0, 0, 270))):
            Circle(SKETCH24_R)
    extrude(amount=-CUT_EXTRUDE11_DEPTH, mode=Mode.SUBTRACT)

    # Sketch25 → Cut-Extrude12 (cut)
    with BuildSketch(Plane(origin=(0, 0, 0), x_dir=(-1, 0, 0), z_dir=(0, 0, -1))):
        with Locations((-37.005578335, 61.042909813)):
            Circle(SKETCH25_R)
        with Locations((-31.01459821, 42.60456891)):
            Circle(SKETCH25_R)
    extrude(amount=-CUT_EXTRUDE12_DEPTH, mode=Mode.SUBTRACT)


solid = part.part
